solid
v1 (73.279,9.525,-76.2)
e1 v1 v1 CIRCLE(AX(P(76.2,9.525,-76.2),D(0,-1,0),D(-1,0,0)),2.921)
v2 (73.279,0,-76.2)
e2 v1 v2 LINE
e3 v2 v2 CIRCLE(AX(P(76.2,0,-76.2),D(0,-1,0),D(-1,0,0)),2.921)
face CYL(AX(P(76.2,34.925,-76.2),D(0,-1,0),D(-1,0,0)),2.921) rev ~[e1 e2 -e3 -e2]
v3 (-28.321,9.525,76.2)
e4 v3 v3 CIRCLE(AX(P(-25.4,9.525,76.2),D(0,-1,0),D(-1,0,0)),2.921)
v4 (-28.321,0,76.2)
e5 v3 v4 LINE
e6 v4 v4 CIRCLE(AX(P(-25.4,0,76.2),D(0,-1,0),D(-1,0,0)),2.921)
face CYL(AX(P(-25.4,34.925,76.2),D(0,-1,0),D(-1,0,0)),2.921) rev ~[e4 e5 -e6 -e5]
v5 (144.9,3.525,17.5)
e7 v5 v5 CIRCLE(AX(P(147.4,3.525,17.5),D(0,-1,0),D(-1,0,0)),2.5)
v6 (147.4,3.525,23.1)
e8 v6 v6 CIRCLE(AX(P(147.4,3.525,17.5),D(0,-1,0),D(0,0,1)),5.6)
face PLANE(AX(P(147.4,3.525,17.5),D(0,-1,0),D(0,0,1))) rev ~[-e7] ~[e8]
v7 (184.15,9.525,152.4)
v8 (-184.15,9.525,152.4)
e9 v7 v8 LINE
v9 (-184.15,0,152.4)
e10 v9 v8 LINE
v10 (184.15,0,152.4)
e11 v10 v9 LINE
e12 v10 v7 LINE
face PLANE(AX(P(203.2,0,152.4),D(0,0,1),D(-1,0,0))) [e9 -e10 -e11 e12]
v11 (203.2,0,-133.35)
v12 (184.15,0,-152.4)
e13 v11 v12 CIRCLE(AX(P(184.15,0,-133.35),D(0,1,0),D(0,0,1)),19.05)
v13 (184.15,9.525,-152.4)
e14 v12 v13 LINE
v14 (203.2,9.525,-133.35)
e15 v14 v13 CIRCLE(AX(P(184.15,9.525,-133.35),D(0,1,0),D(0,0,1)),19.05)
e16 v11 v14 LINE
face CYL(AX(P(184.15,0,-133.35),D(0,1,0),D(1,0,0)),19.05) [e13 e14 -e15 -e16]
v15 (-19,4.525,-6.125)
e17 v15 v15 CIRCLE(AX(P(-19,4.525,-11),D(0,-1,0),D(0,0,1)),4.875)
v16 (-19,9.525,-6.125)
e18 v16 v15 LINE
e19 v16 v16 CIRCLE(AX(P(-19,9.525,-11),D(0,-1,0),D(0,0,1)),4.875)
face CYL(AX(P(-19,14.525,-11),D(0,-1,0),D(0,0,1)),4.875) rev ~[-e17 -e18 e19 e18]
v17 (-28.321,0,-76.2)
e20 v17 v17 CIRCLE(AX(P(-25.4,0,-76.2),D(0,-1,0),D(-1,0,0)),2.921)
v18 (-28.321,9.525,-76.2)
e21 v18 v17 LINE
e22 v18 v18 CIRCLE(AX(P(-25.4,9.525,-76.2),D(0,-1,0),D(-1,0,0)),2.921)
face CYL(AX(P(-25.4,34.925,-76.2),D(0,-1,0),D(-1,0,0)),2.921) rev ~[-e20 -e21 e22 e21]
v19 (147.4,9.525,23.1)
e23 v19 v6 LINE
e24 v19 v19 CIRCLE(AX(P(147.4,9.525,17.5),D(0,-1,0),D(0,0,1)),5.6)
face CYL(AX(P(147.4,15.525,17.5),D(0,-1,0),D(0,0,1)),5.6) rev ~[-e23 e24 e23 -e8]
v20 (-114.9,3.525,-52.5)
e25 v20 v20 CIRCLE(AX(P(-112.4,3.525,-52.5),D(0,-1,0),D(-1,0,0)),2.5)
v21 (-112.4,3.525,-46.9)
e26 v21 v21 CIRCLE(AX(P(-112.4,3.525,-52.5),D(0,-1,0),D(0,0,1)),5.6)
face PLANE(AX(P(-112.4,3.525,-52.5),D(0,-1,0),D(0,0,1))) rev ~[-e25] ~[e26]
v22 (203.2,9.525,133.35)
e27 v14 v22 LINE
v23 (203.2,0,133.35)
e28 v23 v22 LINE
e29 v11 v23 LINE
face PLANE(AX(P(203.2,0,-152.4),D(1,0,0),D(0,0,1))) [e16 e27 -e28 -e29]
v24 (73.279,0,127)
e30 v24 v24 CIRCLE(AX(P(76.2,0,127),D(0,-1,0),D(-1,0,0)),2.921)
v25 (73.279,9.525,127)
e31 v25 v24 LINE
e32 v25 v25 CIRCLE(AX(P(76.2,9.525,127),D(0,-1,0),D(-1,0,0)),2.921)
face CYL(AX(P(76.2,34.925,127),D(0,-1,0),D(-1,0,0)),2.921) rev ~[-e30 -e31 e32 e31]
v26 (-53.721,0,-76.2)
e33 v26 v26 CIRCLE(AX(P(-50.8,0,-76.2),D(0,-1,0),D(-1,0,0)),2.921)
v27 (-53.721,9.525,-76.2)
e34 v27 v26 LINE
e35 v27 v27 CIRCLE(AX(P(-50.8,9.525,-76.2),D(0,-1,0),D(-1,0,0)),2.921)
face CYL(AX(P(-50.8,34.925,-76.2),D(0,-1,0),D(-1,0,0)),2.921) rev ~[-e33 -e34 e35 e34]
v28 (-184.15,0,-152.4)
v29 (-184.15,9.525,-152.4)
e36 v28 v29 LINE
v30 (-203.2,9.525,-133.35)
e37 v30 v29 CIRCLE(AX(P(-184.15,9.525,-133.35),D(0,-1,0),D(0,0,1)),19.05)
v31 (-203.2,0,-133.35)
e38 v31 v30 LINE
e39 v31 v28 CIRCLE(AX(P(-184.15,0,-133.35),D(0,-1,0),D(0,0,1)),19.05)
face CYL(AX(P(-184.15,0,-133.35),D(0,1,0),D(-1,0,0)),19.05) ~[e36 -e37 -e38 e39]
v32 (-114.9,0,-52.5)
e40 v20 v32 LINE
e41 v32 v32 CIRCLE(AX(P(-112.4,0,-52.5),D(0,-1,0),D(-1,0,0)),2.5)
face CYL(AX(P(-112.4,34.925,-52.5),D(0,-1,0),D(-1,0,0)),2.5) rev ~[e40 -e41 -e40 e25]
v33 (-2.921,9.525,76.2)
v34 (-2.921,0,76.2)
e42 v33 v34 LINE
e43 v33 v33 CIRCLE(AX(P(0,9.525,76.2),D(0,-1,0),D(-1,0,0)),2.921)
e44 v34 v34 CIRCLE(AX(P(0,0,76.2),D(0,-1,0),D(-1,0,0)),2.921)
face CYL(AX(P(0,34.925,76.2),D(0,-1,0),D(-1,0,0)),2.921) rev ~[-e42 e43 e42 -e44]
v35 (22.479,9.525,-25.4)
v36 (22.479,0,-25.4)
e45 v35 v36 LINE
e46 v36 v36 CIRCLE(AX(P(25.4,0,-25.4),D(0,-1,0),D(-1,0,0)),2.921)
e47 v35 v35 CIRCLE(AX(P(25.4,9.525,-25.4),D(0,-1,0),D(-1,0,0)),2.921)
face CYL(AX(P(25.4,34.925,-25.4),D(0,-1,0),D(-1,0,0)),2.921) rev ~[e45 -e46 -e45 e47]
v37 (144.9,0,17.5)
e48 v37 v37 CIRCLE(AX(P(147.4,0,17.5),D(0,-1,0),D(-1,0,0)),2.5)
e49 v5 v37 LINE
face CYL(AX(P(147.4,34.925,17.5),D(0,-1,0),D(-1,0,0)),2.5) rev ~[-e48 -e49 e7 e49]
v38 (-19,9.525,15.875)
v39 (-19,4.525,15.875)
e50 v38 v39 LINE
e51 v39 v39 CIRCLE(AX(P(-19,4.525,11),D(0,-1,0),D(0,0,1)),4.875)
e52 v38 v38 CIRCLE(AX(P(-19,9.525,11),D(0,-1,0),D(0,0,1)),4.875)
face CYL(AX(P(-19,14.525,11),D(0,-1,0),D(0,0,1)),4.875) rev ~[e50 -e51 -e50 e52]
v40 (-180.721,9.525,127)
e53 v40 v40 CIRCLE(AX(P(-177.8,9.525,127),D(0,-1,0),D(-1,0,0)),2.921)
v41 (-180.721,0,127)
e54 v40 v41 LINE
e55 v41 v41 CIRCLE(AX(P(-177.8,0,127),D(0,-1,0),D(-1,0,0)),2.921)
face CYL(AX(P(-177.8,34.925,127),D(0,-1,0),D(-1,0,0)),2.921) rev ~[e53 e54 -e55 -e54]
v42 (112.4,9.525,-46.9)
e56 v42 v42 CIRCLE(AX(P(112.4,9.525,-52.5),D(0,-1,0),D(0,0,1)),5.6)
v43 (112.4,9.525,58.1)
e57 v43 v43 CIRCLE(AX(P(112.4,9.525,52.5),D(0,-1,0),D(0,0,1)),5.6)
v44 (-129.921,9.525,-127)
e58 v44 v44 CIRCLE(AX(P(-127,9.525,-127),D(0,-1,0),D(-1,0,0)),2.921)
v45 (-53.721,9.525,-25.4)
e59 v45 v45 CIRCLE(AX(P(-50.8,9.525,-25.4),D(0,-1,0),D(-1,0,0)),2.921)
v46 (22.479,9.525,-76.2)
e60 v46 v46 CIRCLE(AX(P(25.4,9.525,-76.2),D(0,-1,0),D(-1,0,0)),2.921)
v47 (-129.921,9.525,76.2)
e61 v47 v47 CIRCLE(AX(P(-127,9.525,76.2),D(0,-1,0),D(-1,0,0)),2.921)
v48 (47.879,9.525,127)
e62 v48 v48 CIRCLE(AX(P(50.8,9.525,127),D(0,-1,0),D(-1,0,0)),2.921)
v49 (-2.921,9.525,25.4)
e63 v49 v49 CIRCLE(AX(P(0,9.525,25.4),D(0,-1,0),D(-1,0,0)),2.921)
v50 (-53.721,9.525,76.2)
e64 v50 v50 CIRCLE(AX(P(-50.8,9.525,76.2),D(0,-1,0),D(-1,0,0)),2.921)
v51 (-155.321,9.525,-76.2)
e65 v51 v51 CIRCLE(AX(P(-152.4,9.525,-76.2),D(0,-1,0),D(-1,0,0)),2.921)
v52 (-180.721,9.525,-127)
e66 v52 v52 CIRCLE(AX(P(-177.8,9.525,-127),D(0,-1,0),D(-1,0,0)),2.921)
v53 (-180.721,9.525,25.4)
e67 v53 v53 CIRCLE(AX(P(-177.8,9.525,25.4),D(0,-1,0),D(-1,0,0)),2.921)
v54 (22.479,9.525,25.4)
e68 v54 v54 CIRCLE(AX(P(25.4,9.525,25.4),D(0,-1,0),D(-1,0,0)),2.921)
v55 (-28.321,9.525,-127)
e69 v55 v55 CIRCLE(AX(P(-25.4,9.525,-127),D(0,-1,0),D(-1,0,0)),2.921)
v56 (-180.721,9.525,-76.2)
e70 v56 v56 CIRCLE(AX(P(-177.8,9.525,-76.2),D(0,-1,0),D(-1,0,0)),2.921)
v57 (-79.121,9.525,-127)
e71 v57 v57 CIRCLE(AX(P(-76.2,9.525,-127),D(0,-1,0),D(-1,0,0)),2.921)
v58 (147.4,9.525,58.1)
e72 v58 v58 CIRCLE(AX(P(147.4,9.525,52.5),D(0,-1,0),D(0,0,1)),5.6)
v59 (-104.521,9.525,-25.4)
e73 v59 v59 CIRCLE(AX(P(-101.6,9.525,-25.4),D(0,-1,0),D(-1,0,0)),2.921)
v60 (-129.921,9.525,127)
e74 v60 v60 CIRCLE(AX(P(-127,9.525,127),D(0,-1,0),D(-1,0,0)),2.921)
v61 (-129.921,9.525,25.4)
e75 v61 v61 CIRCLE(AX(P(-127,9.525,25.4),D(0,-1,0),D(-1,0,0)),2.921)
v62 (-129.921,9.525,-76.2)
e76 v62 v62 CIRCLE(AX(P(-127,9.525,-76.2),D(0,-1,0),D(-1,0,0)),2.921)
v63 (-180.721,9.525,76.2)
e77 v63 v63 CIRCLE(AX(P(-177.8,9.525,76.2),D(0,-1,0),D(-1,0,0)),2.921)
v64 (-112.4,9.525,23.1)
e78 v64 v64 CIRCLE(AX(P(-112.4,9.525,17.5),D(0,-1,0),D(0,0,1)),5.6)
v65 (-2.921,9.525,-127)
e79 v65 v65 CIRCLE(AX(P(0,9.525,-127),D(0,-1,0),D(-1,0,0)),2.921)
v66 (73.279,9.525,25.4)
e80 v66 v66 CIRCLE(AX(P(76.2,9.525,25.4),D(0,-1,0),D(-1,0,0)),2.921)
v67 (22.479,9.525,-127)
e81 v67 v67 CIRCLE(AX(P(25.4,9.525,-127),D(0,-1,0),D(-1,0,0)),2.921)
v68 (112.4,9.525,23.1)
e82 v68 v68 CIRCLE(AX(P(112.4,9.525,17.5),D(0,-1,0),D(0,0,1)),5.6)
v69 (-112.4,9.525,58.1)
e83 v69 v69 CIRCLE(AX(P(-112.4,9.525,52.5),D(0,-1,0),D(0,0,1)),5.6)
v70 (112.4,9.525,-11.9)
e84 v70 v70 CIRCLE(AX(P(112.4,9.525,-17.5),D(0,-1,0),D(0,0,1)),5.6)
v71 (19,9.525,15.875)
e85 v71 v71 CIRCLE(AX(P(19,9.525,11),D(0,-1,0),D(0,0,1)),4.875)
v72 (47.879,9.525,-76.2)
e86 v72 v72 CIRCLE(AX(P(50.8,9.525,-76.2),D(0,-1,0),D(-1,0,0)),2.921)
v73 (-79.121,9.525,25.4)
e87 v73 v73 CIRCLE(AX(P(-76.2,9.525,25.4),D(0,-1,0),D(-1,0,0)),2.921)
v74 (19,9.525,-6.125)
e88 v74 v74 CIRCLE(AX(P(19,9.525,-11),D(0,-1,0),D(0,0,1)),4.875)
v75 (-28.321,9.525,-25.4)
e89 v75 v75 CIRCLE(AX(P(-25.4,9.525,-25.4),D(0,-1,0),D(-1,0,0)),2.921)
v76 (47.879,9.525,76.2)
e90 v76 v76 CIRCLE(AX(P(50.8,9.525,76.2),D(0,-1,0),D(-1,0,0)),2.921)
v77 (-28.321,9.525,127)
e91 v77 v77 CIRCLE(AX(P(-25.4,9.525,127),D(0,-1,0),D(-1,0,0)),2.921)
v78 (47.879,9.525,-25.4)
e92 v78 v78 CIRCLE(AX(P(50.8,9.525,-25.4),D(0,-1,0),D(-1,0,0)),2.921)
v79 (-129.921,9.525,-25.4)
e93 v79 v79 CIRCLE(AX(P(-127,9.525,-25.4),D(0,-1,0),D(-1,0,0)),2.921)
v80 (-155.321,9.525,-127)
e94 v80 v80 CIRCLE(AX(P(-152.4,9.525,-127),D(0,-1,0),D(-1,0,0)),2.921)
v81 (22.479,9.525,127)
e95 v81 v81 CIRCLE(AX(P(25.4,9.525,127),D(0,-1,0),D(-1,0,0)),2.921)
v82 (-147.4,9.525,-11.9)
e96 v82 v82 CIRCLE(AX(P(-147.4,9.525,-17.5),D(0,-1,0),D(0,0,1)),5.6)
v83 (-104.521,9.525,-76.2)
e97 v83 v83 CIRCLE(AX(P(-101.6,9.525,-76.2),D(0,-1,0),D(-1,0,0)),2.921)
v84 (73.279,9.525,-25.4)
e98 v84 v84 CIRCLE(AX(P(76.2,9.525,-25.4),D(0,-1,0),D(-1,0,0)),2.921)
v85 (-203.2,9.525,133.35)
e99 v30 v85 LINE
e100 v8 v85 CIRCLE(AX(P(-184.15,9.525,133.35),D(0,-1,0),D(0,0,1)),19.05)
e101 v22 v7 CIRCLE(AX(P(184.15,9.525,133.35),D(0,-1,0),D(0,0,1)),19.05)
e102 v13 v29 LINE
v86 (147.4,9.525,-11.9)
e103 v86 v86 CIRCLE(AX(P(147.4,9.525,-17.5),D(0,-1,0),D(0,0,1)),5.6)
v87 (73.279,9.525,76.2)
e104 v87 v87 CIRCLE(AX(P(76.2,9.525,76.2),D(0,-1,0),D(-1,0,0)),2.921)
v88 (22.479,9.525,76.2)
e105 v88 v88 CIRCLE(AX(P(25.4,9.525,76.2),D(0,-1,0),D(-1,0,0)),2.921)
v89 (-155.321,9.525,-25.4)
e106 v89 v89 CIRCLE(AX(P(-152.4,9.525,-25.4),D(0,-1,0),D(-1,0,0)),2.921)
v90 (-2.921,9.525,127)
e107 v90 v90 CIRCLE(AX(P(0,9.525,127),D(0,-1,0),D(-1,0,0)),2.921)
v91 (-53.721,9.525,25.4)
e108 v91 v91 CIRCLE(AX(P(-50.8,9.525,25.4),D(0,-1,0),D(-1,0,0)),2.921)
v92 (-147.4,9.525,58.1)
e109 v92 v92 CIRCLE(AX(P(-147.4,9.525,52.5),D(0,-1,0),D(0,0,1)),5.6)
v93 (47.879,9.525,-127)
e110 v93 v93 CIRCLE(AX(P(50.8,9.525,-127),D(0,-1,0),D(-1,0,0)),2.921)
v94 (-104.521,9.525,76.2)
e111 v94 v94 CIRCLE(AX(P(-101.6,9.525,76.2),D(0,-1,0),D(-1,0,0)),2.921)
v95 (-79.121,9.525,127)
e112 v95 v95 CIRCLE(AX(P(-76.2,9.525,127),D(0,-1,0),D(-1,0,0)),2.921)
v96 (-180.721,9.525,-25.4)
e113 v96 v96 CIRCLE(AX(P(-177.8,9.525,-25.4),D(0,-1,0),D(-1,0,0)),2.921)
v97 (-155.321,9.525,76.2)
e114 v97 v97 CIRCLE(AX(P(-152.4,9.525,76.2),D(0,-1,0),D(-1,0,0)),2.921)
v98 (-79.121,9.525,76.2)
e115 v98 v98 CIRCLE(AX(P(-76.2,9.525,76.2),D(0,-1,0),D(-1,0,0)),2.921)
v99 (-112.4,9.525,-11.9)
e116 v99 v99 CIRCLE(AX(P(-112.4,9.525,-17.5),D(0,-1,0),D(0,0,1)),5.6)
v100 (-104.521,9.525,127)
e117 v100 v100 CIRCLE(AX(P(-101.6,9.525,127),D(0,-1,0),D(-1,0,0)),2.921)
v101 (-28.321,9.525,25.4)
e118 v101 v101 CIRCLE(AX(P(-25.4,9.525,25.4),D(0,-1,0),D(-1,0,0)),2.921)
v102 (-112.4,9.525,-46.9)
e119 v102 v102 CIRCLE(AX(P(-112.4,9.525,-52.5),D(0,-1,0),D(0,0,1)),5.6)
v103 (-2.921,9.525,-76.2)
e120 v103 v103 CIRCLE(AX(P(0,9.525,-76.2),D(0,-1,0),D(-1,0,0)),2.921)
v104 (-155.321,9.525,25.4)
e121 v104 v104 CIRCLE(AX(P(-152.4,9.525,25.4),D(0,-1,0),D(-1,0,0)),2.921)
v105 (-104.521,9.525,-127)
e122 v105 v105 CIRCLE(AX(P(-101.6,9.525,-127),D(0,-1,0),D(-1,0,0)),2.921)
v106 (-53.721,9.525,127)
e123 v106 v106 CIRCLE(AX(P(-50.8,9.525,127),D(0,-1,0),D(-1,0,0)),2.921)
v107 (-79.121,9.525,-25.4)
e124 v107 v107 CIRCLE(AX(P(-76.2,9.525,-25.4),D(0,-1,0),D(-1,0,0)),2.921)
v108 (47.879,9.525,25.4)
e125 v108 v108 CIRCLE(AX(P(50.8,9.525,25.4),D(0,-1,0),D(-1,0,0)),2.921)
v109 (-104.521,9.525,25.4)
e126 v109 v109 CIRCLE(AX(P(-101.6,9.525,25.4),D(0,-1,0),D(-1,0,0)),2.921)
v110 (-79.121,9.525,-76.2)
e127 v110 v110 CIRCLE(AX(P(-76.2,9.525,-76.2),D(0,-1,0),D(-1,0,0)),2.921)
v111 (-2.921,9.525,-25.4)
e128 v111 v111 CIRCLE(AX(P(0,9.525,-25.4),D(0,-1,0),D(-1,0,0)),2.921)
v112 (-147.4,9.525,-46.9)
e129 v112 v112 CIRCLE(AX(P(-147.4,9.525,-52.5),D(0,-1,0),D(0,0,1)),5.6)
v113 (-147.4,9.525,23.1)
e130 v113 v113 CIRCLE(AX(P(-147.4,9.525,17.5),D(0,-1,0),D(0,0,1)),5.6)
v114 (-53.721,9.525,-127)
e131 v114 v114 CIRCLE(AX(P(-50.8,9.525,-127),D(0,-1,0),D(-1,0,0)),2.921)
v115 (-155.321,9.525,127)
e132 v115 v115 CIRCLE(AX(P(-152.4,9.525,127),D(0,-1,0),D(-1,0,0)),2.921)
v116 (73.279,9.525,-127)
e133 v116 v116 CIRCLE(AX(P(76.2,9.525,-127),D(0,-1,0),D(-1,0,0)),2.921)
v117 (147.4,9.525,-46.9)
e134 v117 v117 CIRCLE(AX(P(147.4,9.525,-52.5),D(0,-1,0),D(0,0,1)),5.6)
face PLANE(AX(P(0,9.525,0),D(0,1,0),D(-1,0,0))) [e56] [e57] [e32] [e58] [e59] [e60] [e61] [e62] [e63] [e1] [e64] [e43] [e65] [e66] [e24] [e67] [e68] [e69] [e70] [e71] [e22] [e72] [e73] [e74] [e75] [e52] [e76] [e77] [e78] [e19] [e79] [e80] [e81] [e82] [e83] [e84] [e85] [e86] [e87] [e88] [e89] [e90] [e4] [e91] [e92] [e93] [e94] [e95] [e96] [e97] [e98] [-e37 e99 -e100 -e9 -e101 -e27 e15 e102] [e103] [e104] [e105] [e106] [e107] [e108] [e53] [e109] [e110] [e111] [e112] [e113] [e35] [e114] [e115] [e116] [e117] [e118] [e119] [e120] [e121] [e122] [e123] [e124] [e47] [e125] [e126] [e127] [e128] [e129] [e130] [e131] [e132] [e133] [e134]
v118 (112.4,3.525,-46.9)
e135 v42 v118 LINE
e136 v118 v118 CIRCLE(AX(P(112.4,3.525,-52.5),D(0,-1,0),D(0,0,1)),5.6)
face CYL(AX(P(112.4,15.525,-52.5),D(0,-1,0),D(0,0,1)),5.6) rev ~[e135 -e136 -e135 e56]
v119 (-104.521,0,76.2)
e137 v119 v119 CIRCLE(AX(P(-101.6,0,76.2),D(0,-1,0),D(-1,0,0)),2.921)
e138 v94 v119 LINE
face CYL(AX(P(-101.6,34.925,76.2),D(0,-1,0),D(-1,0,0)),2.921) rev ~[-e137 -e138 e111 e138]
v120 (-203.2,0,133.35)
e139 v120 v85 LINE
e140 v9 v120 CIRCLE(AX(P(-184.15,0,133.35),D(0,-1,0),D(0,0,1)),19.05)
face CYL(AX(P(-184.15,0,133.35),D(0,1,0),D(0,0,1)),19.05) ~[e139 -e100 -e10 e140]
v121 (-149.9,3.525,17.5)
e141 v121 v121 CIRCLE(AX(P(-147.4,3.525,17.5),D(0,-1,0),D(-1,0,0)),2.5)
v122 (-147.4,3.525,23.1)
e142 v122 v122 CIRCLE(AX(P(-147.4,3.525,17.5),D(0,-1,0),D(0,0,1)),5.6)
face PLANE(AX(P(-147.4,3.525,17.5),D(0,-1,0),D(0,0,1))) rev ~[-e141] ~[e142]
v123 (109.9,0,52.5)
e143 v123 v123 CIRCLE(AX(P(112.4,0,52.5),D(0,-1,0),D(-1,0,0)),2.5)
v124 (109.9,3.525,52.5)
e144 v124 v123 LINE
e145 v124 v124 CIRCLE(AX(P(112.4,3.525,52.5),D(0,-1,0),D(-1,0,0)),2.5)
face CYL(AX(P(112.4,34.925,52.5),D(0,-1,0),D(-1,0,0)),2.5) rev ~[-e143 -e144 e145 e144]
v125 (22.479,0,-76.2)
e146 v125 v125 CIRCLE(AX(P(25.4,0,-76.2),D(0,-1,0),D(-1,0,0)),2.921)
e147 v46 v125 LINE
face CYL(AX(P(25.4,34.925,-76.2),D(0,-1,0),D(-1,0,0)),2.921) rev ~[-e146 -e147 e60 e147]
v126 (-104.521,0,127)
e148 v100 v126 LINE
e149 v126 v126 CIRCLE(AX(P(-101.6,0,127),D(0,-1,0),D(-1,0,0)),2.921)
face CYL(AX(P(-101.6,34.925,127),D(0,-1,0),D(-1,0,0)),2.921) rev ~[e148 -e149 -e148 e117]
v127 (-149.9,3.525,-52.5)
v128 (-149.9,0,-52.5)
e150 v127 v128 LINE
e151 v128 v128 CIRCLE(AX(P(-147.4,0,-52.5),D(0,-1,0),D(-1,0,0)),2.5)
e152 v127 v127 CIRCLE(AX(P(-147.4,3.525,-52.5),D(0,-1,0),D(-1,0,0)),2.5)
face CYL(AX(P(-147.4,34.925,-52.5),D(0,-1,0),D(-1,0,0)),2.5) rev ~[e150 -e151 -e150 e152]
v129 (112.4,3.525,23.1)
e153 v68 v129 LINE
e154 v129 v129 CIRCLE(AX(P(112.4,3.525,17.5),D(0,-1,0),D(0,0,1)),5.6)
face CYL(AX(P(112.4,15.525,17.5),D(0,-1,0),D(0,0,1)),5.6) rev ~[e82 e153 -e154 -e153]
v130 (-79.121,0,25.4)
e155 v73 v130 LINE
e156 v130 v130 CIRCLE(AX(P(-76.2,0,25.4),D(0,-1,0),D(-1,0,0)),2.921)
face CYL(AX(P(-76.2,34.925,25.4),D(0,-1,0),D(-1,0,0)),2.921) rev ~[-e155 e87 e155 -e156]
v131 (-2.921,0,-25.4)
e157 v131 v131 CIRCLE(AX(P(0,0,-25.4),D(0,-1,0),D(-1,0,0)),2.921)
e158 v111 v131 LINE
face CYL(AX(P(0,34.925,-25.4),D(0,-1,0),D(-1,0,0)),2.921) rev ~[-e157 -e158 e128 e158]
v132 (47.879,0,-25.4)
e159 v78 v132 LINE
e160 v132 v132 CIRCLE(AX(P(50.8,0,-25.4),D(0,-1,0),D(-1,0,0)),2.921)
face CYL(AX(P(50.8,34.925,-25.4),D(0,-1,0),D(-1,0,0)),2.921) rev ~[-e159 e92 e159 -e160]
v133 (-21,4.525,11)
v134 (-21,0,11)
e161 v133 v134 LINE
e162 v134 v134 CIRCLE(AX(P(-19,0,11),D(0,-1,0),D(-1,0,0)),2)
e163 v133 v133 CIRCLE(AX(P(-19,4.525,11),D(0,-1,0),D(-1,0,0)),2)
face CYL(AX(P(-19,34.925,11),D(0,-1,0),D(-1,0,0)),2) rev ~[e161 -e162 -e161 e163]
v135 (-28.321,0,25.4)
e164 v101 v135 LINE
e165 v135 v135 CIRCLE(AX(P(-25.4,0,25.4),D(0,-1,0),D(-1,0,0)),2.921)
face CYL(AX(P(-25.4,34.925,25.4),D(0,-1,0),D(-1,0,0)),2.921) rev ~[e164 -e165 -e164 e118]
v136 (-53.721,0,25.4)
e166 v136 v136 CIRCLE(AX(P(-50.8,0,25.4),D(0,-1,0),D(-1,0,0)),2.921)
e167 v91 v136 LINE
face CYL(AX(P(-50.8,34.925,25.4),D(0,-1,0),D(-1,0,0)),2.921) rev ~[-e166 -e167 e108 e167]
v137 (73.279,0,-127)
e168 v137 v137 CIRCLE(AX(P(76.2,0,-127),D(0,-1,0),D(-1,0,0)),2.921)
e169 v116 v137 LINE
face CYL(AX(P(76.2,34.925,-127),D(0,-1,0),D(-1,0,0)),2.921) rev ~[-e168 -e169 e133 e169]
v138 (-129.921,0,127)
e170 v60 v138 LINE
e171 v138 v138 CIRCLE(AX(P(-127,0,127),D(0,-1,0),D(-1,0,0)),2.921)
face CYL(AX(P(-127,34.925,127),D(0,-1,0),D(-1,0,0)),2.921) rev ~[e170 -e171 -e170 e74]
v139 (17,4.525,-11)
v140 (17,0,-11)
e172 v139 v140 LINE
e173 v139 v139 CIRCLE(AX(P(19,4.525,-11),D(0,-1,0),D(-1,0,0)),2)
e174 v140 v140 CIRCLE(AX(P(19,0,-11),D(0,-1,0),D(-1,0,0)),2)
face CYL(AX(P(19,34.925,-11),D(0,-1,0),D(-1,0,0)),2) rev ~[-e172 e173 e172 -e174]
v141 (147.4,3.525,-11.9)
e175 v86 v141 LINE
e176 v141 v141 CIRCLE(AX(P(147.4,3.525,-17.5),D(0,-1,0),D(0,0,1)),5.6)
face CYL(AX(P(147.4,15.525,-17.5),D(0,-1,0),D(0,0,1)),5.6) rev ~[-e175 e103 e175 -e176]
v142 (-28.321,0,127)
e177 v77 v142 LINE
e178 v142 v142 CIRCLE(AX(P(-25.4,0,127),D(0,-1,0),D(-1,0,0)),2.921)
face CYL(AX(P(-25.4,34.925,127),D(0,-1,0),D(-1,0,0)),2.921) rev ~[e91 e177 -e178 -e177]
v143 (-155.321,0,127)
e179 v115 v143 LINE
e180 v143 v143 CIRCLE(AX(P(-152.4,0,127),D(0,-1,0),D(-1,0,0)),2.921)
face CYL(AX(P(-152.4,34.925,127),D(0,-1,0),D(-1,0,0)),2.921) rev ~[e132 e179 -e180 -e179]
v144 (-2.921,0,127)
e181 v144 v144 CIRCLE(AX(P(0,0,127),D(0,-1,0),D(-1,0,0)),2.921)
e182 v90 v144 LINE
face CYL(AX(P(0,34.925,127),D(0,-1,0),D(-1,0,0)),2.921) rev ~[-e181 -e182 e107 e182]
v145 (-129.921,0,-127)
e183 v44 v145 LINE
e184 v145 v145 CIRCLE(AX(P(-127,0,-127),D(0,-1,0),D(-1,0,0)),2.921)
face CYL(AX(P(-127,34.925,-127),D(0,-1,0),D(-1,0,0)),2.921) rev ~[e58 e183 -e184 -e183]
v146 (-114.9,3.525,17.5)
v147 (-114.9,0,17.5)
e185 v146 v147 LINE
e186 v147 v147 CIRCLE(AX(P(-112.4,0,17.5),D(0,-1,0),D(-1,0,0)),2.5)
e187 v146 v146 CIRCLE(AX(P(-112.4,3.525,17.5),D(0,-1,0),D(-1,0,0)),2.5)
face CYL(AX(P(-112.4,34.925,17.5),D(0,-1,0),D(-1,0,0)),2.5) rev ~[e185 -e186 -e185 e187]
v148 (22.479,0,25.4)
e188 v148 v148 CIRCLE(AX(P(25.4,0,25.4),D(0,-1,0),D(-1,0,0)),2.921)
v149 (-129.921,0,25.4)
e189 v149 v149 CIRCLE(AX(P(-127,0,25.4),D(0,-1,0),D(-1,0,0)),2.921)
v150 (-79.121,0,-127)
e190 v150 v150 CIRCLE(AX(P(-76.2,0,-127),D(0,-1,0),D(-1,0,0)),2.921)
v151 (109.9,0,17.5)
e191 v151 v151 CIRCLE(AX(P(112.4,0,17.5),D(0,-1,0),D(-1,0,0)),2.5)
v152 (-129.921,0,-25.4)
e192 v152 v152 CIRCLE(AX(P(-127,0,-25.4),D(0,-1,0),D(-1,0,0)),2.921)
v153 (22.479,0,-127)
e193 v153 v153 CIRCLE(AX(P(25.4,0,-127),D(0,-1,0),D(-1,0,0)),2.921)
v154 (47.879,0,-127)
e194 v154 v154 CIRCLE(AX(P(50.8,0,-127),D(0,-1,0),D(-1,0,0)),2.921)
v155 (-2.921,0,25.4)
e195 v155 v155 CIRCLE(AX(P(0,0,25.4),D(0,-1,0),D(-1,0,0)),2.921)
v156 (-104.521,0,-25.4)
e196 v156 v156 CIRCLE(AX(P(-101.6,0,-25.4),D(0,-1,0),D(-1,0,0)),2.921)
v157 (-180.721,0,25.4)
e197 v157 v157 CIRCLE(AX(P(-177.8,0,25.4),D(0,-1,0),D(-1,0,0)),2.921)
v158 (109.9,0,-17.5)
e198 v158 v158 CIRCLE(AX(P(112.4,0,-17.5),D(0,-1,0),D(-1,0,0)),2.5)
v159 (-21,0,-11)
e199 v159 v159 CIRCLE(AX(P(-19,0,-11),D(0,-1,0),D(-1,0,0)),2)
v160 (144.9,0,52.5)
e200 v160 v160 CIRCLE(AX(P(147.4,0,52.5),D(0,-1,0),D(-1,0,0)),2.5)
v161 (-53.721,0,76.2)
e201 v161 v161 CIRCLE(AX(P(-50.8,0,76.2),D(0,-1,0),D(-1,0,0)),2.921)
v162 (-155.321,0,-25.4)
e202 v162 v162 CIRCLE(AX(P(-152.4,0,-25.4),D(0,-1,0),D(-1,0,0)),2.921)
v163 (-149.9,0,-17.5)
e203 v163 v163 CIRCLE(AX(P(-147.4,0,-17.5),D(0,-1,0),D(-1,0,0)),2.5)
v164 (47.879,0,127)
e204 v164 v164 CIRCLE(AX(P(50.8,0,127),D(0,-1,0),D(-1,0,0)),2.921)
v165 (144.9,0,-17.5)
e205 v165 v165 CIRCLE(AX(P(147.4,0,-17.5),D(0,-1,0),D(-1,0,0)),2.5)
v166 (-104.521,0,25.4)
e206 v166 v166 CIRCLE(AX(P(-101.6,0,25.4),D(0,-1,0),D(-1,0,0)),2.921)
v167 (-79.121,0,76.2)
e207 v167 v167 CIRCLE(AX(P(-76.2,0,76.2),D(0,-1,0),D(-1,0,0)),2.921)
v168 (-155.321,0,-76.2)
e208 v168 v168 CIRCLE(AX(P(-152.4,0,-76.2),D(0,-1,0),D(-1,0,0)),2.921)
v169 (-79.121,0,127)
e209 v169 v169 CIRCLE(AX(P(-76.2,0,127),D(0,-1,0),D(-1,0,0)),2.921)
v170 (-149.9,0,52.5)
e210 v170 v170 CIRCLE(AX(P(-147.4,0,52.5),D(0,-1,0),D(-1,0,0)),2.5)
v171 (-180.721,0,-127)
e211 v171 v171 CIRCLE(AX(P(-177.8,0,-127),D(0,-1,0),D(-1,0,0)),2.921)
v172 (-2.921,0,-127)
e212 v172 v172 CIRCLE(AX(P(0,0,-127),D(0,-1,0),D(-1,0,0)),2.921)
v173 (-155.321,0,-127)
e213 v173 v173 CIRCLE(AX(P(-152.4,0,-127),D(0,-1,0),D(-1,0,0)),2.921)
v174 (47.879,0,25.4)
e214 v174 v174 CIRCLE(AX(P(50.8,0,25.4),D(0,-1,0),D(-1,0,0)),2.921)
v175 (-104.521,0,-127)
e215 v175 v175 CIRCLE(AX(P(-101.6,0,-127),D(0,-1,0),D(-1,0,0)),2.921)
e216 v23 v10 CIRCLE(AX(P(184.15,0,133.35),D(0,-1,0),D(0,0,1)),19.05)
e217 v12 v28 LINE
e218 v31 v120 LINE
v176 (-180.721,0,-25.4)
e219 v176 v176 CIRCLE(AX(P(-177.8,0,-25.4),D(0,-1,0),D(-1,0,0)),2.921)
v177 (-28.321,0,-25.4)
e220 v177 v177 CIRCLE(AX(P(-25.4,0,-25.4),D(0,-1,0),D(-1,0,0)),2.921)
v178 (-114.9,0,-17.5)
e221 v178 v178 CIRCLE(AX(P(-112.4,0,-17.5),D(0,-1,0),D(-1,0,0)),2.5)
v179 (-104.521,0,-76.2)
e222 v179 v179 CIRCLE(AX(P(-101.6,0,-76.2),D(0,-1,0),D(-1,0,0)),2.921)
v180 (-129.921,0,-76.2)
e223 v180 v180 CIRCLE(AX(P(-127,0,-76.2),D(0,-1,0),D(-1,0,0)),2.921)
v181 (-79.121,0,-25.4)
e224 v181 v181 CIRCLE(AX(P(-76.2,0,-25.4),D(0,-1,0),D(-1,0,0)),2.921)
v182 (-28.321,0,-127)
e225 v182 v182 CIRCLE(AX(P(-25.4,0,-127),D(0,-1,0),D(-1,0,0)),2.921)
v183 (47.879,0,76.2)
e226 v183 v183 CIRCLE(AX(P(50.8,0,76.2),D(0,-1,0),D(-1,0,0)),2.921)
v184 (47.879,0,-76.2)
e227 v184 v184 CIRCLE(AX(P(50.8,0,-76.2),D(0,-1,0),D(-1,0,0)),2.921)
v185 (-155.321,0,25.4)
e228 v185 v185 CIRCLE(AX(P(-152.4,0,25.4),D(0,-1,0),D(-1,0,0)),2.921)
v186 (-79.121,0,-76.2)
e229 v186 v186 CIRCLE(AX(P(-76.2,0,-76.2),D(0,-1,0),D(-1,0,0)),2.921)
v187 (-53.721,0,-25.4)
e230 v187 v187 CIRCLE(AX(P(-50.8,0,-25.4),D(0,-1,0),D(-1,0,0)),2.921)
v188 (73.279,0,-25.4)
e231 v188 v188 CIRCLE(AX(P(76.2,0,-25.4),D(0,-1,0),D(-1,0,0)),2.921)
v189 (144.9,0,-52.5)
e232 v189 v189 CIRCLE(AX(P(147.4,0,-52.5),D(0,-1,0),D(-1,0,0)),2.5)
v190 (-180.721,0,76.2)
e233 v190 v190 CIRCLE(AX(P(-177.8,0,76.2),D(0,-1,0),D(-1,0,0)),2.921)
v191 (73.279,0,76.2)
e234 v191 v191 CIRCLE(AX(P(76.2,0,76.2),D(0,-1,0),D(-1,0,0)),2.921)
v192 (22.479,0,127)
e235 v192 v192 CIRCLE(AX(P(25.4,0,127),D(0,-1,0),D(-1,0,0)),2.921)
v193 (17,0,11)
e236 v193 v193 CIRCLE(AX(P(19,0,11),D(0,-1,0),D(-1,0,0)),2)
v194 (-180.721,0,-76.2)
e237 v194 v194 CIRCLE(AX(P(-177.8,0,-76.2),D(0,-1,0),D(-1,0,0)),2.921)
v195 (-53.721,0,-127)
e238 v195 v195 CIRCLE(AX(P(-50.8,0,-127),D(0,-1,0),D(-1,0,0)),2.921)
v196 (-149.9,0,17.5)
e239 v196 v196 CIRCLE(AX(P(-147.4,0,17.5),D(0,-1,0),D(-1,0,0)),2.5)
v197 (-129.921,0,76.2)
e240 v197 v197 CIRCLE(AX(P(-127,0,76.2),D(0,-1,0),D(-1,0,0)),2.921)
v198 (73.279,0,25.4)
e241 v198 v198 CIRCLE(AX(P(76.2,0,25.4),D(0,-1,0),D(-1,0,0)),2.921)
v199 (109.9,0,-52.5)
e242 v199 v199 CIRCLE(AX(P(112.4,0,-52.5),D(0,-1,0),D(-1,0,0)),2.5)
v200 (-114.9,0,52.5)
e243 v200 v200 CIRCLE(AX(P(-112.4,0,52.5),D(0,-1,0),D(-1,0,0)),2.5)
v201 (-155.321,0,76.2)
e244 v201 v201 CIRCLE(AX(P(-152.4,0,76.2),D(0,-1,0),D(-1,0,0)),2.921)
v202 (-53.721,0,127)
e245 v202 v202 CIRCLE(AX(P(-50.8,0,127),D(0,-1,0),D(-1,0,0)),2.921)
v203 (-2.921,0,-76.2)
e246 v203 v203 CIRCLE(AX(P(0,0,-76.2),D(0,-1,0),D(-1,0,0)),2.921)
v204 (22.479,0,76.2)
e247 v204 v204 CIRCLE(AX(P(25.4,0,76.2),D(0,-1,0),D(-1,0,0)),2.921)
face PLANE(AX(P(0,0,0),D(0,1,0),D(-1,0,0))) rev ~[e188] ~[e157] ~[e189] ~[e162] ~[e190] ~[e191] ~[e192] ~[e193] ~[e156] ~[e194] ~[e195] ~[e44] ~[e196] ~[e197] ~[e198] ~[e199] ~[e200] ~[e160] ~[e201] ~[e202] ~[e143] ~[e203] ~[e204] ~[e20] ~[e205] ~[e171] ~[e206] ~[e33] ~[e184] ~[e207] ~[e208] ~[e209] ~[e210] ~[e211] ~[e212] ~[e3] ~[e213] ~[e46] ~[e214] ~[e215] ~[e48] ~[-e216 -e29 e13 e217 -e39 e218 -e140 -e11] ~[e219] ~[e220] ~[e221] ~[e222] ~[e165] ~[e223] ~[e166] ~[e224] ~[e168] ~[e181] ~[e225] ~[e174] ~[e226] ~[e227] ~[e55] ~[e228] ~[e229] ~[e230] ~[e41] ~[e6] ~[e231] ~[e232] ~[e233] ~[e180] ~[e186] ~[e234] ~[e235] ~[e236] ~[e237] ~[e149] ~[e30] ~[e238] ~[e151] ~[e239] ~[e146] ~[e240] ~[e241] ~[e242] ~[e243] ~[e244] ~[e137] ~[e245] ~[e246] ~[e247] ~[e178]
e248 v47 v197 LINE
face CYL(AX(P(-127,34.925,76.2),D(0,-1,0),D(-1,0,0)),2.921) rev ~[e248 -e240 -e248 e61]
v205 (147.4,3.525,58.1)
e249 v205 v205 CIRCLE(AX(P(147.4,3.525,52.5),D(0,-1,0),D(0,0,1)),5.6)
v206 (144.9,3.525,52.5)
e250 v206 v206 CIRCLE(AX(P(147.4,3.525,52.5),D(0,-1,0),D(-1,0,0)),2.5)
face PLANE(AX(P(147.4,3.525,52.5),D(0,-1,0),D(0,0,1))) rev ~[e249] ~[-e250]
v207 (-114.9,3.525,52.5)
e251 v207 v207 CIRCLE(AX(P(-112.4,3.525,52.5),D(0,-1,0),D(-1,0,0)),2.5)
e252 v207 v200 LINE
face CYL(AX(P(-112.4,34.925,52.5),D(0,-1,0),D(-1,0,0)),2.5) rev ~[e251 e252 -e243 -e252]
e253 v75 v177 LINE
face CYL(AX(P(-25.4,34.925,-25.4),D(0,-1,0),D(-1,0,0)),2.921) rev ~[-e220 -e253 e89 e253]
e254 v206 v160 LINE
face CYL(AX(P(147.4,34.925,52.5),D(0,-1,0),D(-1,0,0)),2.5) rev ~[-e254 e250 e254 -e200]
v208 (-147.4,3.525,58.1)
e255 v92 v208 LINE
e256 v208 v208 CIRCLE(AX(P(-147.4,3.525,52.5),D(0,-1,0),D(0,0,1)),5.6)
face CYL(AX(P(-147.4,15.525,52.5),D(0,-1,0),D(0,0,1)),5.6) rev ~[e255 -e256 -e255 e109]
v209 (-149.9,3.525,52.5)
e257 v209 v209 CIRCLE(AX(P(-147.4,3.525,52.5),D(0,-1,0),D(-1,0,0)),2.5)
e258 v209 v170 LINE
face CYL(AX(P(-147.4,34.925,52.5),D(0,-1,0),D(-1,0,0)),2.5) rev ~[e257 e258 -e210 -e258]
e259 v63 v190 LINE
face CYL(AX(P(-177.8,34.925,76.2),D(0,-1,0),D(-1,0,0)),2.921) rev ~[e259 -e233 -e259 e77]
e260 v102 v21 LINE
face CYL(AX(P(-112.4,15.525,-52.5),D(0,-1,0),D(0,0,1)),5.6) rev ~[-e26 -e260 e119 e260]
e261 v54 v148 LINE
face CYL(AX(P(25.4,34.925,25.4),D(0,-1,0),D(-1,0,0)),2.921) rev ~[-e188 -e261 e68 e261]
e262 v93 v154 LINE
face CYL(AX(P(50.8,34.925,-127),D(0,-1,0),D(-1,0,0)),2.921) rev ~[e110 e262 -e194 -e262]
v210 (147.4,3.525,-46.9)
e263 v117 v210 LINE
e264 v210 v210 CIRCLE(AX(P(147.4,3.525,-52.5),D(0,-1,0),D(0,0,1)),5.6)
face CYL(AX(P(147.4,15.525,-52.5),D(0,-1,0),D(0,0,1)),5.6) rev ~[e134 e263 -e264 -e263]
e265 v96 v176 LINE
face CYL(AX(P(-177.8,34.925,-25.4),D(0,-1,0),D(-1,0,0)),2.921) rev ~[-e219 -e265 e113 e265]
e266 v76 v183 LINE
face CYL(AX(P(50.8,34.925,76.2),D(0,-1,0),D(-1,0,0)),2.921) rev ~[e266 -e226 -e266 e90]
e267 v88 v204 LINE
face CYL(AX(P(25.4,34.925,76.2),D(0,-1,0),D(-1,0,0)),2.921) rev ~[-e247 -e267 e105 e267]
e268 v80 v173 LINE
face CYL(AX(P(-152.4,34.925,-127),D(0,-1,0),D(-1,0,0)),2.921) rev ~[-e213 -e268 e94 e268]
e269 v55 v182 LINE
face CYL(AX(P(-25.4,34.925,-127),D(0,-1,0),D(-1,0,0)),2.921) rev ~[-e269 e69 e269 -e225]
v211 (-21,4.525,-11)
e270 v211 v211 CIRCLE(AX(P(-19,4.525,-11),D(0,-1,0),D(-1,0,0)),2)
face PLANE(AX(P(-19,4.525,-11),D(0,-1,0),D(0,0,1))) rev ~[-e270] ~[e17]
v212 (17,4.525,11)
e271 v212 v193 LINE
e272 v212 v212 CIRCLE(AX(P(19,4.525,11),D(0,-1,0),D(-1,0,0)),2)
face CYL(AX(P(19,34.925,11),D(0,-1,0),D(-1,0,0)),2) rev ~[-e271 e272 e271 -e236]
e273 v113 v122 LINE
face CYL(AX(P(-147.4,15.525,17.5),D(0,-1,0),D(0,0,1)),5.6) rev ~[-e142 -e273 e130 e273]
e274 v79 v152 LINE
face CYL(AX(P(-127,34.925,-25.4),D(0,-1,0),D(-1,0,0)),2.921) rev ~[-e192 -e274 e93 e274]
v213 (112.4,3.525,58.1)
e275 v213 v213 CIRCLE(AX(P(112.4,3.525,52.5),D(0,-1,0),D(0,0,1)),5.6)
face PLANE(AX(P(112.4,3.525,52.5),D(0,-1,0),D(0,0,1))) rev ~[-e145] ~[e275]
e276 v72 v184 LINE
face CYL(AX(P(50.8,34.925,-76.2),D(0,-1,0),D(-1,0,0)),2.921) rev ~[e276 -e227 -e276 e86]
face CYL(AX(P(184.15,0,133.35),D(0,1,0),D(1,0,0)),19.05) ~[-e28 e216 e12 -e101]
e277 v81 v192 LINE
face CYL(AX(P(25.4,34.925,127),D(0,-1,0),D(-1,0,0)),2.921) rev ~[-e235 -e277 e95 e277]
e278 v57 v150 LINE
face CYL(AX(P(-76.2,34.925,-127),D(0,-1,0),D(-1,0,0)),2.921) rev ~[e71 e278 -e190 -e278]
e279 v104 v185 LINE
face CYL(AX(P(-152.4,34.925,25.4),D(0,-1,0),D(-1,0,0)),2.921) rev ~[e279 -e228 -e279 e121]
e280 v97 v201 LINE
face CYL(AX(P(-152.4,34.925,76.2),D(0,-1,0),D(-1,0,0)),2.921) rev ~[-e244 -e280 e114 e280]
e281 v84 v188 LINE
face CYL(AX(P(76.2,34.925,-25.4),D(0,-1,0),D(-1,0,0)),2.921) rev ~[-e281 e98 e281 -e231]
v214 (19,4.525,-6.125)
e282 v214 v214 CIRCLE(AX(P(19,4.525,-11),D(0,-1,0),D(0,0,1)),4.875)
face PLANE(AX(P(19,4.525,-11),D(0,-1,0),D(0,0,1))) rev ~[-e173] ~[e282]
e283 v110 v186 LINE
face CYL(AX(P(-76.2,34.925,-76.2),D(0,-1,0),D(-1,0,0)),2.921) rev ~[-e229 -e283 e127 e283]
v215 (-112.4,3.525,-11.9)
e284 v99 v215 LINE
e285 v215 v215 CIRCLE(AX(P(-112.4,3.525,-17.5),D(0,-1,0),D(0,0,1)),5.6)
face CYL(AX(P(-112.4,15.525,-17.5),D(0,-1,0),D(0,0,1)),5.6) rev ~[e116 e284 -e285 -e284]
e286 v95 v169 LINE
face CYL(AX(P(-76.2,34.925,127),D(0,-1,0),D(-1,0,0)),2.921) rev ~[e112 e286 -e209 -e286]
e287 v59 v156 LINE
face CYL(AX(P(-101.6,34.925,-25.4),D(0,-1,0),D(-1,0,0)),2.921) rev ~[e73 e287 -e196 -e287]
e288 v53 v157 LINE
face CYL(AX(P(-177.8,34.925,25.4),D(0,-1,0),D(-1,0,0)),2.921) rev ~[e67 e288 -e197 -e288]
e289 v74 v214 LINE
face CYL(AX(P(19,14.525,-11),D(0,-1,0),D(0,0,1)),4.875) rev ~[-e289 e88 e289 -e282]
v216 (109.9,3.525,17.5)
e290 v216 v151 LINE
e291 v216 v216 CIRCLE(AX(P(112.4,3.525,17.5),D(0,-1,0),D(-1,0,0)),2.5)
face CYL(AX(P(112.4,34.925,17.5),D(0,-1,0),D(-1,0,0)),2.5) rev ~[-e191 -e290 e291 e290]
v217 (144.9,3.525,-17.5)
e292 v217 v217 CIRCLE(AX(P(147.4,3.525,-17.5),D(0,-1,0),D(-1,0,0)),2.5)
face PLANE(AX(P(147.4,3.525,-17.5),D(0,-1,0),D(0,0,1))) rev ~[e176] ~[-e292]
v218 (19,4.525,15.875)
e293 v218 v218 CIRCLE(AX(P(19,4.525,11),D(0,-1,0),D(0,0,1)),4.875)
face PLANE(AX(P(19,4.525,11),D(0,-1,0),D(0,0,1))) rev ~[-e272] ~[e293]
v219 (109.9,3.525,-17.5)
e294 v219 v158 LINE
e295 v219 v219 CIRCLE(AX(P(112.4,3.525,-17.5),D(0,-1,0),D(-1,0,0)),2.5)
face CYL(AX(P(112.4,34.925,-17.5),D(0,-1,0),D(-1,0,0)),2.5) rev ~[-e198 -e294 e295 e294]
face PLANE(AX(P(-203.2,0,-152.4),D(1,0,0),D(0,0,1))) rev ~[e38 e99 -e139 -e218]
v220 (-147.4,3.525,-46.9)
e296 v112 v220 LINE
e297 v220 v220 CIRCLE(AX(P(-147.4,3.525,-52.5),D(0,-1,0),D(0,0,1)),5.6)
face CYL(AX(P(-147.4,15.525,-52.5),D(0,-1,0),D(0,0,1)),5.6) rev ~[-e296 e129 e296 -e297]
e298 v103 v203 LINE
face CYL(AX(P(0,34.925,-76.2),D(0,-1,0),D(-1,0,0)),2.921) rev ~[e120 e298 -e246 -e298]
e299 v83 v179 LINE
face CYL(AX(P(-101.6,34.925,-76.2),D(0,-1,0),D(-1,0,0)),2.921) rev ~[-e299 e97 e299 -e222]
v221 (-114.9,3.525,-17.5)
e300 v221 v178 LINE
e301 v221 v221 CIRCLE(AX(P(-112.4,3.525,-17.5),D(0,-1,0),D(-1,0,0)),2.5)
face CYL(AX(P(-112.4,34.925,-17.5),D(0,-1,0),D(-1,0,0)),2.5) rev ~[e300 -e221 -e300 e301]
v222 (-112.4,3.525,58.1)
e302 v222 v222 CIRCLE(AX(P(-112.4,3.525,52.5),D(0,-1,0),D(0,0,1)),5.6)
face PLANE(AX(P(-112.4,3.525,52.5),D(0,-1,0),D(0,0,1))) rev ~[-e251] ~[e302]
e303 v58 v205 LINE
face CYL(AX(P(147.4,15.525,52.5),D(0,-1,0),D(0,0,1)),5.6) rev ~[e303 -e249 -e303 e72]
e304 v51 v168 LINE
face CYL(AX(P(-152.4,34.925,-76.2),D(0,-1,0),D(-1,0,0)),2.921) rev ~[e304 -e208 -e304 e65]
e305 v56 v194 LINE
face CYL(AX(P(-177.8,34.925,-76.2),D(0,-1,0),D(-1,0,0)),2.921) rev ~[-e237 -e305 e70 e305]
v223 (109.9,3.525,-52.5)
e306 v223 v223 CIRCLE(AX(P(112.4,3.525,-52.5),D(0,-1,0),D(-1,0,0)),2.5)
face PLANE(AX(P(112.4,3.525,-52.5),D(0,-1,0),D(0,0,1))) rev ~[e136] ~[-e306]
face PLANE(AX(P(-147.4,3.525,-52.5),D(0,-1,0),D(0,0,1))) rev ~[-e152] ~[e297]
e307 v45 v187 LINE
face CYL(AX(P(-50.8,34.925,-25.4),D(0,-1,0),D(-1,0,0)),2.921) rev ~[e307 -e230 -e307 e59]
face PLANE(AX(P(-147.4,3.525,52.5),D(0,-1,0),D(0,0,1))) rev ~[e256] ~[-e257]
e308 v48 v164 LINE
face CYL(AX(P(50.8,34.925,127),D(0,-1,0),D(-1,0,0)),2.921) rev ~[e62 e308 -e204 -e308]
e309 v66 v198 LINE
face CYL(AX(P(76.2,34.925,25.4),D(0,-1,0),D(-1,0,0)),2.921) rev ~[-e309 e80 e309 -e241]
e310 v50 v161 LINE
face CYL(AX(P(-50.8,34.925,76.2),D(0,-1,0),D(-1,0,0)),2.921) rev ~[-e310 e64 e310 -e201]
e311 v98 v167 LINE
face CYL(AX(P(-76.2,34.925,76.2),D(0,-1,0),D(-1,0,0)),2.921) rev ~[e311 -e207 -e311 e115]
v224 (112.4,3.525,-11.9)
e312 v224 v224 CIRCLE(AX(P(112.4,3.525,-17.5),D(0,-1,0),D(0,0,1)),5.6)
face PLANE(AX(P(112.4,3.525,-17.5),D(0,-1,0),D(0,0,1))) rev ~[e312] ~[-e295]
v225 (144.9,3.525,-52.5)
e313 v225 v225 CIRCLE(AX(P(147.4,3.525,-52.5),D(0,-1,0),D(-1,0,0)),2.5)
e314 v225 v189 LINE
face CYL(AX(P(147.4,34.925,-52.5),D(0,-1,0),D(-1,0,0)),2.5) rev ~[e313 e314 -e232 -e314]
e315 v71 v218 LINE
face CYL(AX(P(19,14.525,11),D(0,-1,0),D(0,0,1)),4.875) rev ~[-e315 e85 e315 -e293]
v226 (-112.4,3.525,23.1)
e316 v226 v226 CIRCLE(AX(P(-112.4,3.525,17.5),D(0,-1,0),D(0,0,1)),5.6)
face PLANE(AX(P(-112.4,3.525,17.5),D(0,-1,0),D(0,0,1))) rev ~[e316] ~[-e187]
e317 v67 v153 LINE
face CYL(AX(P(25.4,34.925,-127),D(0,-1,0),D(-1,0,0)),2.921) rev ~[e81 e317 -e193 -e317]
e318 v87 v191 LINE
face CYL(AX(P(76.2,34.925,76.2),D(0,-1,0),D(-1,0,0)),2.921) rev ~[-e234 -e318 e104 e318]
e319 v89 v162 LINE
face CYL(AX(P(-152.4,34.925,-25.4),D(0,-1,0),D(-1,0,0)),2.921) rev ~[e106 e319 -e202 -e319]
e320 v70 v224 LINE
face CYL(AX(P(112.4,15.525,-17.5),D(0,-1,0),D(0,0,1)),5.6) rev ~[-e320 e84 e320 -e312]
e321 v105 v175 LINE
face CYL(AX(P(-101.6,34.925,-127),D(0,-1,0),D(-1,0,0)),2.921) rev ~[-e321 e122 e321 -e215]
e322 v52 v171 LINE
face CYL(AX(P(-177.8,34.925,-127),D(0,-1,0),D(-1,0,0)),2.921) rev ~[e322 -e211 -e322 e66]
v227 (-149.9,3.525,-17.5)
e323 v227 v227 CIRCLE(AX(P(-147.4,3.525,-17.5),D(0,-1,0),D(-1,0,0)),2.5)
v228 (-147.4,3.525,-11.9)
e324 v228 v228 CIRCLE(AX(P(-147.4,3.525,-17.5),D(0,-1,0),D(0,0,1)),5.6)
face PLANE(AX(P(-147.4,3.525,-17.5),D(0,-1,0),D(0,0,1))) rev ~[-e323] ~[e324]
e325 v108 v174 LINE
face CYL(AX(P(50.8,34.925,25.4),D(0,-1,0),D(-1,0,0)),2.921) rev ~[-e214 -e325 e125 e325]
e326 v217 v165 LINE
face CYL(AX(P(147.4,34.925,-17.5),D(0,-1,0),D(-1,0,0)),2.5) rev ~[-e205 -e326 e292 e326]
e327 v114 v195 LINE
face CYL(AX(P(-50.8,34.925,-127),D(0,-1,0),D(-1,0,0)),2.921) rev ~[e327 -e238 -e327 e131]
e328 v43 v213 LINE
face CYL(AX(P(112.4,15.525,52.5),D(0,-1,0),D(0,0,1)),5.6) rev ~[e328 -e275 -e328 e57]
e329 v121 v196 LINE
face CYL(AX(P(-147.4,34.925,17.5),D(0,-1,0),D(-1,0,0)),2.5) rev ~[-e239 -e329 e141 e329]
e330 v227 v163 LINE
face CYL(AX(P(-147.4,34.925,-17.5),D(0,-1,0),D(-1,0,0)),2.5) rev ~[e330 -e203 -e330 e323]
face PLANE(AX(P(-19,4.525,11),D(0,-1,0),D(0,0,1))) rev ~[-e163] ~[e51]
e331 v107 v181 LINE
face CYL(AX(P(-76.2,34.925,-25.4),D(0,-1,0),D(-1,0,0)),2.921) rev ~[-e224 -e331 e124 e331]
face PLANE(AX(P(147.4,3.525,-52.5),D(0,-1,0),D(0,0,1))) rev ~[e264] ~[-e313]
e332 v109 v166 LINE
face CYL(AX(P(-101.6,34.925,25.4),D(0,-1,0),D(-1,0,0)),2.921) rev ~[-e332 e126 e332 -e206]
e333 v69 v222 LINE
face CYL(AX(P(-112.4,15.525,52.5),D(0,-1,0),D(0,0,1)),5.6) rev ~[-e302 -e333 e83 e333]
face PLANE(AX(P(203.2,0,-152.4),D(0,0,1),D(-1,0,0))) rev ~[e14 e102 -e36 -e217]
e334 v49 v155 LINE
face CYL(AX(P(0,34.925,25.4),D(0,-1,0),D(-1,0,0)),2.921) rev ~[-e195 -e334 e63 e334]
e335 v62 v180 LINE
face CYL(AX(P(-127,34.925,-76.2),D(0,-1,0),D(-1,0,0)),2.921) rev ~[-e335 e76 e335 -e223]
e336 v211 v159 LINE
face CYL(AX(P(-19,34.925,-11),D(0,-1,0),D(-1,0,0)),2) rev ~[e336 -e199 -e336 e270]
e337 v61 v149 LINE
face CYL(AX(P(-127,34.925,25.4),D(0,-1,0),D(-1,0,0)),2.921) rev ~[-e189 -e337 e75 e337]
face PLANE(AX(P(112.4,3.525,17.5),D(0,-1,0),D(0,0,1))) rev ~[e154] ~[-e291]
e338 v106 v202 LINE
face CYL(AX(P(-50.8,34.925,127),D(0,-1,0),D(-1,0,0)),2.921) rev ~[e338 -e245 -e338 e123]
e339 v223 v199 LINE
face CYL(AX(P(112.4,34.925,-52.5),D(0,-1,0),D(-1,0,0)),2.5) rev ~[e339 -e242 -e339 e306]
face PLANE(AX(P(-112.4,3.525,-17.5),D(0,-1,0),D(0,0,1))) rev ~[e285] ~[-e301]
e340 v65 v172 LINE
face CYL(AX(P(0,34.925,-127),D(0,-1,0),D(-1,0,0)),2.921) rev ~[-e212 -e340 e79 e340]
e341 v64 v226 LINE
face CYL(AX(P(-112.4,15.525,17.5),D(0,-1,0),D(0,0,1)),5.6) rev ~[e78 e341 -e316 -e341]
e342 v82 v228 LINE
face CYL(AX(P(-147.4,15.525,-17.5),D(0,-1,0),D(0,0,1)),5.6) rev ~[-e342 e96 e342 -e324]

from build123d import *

# Parameters (mm, degrees)
SKETCH1_W        = 406.4
SKETCH1_H        = 304.8
EXTRUSION1_DEPTH = 9.525
FILLET1_R        = 19.05
FILLET2_R        = 19.05
FILLET3_R        = 19.05
FILLET4_R        = 19.05
HOLE1_D          = 5.842
HOLE1_DEPTH      = 25.4
HOLE1_TIP        = 1.755113868
HOLE4_D          = 5
HOLE4_DEPTH      = 25.4
HOLE4_TIP        = 1.502151548
HOLE5_D          = 4
HOLE5_DEPTH      = 25.4
HOLE5_TIP        = 1.201721238
HOLE6_D          = 11.2
HOLE6_DEPTH      = 6
HOLE7_D          = 9.75
HOLE7_DEPTH      = 5


with BuildPart() as part:
    # Sketch1 → Extrusion1 (new body)
    with BuildSketch(Plane(origin=(0, 0, 0), x_dir=(-1, 0, 0), z_dir=(0, 1, 0))):
        Rectangle(SKETCH1_W, SKETCH1_H)
    extrude(amount=EXTRUSION1_DEPTH)

    # Fillet1
    fillet1_edges = [part.edges().sort_by_distance(p)[0] for p in [
        (203.2, 4.7625, 152.4),
    ]]
    fillet(fillet1_edges, radius=FILLET1_R)

    # Fillet2
    fillet2_edges = [part.edges().sort_by_distance(p)[0] for p in [
        (203.2, 4.7625, -152.4),
    ]]
    fillet(fillet2_edges, radius=FILLET2_R)

    # Fillet3
    fillet3_edges = [part.edges().sort_by_distance(p)[0] for p in [
        (-203.2, 4.7625, 152.4),
    ]]
    fillet(fillet3_edges, radius=FILLET3_R)

    # Fillet4
    fillet4_edges = [part.edges().sort_by_distance(p)[0] for p in [
        (-203.2, 4.7625, -152.4),
    ]]
    fillet(fillet4_edges, radius=FILLET4_R)

    # Hole1
    with Locations(Plane(origin=(0, 9.525, 0), x_dir=(1, 0, 0), z_dir=(0, 1, 0))):
        with Locations((-177.8, -127), (-177.8, -76.2), (-177.8, -25.4), (-177.8, 25.4), (-177.8, 76.2), (-177.8, 127), (-152.4, -127), (-152.4, -76.2), (-152.4, -25.4), (-152.4, 25.4), (-152.4, 76.2), (-152.4, 127), (-127, -127), (-127, -76.2), (-127, -25.4), (-127, 25.4), (-127, 76.2), (-127, 127), (-101.6, -127), (-101.6, -76.2), (-101.6, -25.4), (-101.6, 25.4), (-101.6, 76.2), (-101.6, 127), (-76.2, -127), (-76.2, -76.2), (-76.2, -25.4), (-76.2, 25.4), (-76.2, 76.2), (-76.2, 127), (-50.8, -127), (-50.8, -76.2), (-50.8, -25.4), (-50.8, 25.4), (-50.8, 76.2), (-50.8, 127), (-25.4, -127), (-25.4, -76.2), (-25.4, -25.4), (-25.4, 25.4), (-25.4, 76.2), (-25.4, 127), (0, -127), (0, -76.2), (0, -25.4), (0, 25.4), (0, 76.2), (0, 127), (25.4, -127), (25.4, -76.2), (25.4, -25.4), (25.4, 25.4), (25.4, 76.2), (25.4, 127), (50.8, -127), (50.8, -76.2), (50.8, -25.4), (50.8, 25.4), (50.8, 76.2), (50.8, 127), (76.2, -127), (76.2, -76.2), (76.2, -25.4), (76.2, 25.4), (76.2, 76.2), (76.2, 127)):
            Hole(HOLE1_D / 2, depth=HOLE1_DEPTH)
            with Locations((0, 0, -(HOLE1_DEPTH + HOLE1_TIP / 2))):  # 118° drill point
                Cone(0, HOLE1_D / 2, HOLE1_TIP, mode=Mode.SUBTRACT)

    # Hole4
    with Locations(Plane(origin=(0, 9.525, 0), x_dir=(1, 0, 0), z_dir=(0, 1, 0))):
        with Locations((-147.400000005, 17.5), (-147.400000005, 52.5), (-112.400000005, 52.5), (-112.400000005, -17.5), (-112.400000005, 17.5), (-147.400000005, -17.5), (-147.400000005, -52.5), (-112.400000005, -52.5), (112.400000005, -17.5), (147.400000005, -17.5), (147.400000005, -52.5), (112.400000005, -52.5), (112.400000005, 52.5), (147.400000005, 17.5), (112.400000005, 17.5), (147.400000005, 52.5)):
            Hole(HOLE4_D / 2, depth=HOLE4_DEPTH)
            with Locations((0, 0, -(HOLE4_DEPTH + HOLE4_TIP / 2))):  # 118° drill point
                Cone(0, HOLE4_D / 2, HOLE4_TIP, mode=Mode.SUBTRACT)

    # Hole5
    with Locations(Plane(origin=(0, 9.525, 0), x_dir=(1, 0, 0), z_dir=(0, 1, 0))):
        with Locations((-19, 11), (19, 11), (-19, -11), (19, -11)):
            Hole(HOLE5_D / 2, depth=HOLE5_DEPTH)
            with Locations((0, 0, -(HOLE5_DEPTH + HOLE5_TIP / 2))):  # 118° drill point
                Cone(0, HOLE5_D / 2, HOLE5_TIP, mode=Mode.SUBTRACT)

    # Hole6
    with Locations(Plane(origin=(-147.400000005, 9.525, -52.5), x_dir=(0, 0, -1), z_dir=(0, 1, 0))):
        with Locations((0, 0), (0, -35), (-35, -35), (-35, 0), (-70, 0), (-70, -35), (-105, -35), (-105, 0), (0, -259.800000009), (0, -294.800000009), (-35, -294.800000009), (-35, -259.800000009), (-70, -259.800000009), (-70, -294.800000009), (-105, -294.800000009), (-105, -259.800000009)):
            Hole(HOLE6_D / 2, depth=HOLE6_DEPTH)

    # Hole7
    with Locations(Plane(origin=(-19, 9.525, -11), x_dir=(0, 0, -1), z_dir=(0, 1, 0))):
        with Locations((0, 0), (0, -38), (-22, -38), (-22, 0)):
            Hole(HOLE7_D / 2, depth=HOLE7_DEPTH)


solid = part.part
